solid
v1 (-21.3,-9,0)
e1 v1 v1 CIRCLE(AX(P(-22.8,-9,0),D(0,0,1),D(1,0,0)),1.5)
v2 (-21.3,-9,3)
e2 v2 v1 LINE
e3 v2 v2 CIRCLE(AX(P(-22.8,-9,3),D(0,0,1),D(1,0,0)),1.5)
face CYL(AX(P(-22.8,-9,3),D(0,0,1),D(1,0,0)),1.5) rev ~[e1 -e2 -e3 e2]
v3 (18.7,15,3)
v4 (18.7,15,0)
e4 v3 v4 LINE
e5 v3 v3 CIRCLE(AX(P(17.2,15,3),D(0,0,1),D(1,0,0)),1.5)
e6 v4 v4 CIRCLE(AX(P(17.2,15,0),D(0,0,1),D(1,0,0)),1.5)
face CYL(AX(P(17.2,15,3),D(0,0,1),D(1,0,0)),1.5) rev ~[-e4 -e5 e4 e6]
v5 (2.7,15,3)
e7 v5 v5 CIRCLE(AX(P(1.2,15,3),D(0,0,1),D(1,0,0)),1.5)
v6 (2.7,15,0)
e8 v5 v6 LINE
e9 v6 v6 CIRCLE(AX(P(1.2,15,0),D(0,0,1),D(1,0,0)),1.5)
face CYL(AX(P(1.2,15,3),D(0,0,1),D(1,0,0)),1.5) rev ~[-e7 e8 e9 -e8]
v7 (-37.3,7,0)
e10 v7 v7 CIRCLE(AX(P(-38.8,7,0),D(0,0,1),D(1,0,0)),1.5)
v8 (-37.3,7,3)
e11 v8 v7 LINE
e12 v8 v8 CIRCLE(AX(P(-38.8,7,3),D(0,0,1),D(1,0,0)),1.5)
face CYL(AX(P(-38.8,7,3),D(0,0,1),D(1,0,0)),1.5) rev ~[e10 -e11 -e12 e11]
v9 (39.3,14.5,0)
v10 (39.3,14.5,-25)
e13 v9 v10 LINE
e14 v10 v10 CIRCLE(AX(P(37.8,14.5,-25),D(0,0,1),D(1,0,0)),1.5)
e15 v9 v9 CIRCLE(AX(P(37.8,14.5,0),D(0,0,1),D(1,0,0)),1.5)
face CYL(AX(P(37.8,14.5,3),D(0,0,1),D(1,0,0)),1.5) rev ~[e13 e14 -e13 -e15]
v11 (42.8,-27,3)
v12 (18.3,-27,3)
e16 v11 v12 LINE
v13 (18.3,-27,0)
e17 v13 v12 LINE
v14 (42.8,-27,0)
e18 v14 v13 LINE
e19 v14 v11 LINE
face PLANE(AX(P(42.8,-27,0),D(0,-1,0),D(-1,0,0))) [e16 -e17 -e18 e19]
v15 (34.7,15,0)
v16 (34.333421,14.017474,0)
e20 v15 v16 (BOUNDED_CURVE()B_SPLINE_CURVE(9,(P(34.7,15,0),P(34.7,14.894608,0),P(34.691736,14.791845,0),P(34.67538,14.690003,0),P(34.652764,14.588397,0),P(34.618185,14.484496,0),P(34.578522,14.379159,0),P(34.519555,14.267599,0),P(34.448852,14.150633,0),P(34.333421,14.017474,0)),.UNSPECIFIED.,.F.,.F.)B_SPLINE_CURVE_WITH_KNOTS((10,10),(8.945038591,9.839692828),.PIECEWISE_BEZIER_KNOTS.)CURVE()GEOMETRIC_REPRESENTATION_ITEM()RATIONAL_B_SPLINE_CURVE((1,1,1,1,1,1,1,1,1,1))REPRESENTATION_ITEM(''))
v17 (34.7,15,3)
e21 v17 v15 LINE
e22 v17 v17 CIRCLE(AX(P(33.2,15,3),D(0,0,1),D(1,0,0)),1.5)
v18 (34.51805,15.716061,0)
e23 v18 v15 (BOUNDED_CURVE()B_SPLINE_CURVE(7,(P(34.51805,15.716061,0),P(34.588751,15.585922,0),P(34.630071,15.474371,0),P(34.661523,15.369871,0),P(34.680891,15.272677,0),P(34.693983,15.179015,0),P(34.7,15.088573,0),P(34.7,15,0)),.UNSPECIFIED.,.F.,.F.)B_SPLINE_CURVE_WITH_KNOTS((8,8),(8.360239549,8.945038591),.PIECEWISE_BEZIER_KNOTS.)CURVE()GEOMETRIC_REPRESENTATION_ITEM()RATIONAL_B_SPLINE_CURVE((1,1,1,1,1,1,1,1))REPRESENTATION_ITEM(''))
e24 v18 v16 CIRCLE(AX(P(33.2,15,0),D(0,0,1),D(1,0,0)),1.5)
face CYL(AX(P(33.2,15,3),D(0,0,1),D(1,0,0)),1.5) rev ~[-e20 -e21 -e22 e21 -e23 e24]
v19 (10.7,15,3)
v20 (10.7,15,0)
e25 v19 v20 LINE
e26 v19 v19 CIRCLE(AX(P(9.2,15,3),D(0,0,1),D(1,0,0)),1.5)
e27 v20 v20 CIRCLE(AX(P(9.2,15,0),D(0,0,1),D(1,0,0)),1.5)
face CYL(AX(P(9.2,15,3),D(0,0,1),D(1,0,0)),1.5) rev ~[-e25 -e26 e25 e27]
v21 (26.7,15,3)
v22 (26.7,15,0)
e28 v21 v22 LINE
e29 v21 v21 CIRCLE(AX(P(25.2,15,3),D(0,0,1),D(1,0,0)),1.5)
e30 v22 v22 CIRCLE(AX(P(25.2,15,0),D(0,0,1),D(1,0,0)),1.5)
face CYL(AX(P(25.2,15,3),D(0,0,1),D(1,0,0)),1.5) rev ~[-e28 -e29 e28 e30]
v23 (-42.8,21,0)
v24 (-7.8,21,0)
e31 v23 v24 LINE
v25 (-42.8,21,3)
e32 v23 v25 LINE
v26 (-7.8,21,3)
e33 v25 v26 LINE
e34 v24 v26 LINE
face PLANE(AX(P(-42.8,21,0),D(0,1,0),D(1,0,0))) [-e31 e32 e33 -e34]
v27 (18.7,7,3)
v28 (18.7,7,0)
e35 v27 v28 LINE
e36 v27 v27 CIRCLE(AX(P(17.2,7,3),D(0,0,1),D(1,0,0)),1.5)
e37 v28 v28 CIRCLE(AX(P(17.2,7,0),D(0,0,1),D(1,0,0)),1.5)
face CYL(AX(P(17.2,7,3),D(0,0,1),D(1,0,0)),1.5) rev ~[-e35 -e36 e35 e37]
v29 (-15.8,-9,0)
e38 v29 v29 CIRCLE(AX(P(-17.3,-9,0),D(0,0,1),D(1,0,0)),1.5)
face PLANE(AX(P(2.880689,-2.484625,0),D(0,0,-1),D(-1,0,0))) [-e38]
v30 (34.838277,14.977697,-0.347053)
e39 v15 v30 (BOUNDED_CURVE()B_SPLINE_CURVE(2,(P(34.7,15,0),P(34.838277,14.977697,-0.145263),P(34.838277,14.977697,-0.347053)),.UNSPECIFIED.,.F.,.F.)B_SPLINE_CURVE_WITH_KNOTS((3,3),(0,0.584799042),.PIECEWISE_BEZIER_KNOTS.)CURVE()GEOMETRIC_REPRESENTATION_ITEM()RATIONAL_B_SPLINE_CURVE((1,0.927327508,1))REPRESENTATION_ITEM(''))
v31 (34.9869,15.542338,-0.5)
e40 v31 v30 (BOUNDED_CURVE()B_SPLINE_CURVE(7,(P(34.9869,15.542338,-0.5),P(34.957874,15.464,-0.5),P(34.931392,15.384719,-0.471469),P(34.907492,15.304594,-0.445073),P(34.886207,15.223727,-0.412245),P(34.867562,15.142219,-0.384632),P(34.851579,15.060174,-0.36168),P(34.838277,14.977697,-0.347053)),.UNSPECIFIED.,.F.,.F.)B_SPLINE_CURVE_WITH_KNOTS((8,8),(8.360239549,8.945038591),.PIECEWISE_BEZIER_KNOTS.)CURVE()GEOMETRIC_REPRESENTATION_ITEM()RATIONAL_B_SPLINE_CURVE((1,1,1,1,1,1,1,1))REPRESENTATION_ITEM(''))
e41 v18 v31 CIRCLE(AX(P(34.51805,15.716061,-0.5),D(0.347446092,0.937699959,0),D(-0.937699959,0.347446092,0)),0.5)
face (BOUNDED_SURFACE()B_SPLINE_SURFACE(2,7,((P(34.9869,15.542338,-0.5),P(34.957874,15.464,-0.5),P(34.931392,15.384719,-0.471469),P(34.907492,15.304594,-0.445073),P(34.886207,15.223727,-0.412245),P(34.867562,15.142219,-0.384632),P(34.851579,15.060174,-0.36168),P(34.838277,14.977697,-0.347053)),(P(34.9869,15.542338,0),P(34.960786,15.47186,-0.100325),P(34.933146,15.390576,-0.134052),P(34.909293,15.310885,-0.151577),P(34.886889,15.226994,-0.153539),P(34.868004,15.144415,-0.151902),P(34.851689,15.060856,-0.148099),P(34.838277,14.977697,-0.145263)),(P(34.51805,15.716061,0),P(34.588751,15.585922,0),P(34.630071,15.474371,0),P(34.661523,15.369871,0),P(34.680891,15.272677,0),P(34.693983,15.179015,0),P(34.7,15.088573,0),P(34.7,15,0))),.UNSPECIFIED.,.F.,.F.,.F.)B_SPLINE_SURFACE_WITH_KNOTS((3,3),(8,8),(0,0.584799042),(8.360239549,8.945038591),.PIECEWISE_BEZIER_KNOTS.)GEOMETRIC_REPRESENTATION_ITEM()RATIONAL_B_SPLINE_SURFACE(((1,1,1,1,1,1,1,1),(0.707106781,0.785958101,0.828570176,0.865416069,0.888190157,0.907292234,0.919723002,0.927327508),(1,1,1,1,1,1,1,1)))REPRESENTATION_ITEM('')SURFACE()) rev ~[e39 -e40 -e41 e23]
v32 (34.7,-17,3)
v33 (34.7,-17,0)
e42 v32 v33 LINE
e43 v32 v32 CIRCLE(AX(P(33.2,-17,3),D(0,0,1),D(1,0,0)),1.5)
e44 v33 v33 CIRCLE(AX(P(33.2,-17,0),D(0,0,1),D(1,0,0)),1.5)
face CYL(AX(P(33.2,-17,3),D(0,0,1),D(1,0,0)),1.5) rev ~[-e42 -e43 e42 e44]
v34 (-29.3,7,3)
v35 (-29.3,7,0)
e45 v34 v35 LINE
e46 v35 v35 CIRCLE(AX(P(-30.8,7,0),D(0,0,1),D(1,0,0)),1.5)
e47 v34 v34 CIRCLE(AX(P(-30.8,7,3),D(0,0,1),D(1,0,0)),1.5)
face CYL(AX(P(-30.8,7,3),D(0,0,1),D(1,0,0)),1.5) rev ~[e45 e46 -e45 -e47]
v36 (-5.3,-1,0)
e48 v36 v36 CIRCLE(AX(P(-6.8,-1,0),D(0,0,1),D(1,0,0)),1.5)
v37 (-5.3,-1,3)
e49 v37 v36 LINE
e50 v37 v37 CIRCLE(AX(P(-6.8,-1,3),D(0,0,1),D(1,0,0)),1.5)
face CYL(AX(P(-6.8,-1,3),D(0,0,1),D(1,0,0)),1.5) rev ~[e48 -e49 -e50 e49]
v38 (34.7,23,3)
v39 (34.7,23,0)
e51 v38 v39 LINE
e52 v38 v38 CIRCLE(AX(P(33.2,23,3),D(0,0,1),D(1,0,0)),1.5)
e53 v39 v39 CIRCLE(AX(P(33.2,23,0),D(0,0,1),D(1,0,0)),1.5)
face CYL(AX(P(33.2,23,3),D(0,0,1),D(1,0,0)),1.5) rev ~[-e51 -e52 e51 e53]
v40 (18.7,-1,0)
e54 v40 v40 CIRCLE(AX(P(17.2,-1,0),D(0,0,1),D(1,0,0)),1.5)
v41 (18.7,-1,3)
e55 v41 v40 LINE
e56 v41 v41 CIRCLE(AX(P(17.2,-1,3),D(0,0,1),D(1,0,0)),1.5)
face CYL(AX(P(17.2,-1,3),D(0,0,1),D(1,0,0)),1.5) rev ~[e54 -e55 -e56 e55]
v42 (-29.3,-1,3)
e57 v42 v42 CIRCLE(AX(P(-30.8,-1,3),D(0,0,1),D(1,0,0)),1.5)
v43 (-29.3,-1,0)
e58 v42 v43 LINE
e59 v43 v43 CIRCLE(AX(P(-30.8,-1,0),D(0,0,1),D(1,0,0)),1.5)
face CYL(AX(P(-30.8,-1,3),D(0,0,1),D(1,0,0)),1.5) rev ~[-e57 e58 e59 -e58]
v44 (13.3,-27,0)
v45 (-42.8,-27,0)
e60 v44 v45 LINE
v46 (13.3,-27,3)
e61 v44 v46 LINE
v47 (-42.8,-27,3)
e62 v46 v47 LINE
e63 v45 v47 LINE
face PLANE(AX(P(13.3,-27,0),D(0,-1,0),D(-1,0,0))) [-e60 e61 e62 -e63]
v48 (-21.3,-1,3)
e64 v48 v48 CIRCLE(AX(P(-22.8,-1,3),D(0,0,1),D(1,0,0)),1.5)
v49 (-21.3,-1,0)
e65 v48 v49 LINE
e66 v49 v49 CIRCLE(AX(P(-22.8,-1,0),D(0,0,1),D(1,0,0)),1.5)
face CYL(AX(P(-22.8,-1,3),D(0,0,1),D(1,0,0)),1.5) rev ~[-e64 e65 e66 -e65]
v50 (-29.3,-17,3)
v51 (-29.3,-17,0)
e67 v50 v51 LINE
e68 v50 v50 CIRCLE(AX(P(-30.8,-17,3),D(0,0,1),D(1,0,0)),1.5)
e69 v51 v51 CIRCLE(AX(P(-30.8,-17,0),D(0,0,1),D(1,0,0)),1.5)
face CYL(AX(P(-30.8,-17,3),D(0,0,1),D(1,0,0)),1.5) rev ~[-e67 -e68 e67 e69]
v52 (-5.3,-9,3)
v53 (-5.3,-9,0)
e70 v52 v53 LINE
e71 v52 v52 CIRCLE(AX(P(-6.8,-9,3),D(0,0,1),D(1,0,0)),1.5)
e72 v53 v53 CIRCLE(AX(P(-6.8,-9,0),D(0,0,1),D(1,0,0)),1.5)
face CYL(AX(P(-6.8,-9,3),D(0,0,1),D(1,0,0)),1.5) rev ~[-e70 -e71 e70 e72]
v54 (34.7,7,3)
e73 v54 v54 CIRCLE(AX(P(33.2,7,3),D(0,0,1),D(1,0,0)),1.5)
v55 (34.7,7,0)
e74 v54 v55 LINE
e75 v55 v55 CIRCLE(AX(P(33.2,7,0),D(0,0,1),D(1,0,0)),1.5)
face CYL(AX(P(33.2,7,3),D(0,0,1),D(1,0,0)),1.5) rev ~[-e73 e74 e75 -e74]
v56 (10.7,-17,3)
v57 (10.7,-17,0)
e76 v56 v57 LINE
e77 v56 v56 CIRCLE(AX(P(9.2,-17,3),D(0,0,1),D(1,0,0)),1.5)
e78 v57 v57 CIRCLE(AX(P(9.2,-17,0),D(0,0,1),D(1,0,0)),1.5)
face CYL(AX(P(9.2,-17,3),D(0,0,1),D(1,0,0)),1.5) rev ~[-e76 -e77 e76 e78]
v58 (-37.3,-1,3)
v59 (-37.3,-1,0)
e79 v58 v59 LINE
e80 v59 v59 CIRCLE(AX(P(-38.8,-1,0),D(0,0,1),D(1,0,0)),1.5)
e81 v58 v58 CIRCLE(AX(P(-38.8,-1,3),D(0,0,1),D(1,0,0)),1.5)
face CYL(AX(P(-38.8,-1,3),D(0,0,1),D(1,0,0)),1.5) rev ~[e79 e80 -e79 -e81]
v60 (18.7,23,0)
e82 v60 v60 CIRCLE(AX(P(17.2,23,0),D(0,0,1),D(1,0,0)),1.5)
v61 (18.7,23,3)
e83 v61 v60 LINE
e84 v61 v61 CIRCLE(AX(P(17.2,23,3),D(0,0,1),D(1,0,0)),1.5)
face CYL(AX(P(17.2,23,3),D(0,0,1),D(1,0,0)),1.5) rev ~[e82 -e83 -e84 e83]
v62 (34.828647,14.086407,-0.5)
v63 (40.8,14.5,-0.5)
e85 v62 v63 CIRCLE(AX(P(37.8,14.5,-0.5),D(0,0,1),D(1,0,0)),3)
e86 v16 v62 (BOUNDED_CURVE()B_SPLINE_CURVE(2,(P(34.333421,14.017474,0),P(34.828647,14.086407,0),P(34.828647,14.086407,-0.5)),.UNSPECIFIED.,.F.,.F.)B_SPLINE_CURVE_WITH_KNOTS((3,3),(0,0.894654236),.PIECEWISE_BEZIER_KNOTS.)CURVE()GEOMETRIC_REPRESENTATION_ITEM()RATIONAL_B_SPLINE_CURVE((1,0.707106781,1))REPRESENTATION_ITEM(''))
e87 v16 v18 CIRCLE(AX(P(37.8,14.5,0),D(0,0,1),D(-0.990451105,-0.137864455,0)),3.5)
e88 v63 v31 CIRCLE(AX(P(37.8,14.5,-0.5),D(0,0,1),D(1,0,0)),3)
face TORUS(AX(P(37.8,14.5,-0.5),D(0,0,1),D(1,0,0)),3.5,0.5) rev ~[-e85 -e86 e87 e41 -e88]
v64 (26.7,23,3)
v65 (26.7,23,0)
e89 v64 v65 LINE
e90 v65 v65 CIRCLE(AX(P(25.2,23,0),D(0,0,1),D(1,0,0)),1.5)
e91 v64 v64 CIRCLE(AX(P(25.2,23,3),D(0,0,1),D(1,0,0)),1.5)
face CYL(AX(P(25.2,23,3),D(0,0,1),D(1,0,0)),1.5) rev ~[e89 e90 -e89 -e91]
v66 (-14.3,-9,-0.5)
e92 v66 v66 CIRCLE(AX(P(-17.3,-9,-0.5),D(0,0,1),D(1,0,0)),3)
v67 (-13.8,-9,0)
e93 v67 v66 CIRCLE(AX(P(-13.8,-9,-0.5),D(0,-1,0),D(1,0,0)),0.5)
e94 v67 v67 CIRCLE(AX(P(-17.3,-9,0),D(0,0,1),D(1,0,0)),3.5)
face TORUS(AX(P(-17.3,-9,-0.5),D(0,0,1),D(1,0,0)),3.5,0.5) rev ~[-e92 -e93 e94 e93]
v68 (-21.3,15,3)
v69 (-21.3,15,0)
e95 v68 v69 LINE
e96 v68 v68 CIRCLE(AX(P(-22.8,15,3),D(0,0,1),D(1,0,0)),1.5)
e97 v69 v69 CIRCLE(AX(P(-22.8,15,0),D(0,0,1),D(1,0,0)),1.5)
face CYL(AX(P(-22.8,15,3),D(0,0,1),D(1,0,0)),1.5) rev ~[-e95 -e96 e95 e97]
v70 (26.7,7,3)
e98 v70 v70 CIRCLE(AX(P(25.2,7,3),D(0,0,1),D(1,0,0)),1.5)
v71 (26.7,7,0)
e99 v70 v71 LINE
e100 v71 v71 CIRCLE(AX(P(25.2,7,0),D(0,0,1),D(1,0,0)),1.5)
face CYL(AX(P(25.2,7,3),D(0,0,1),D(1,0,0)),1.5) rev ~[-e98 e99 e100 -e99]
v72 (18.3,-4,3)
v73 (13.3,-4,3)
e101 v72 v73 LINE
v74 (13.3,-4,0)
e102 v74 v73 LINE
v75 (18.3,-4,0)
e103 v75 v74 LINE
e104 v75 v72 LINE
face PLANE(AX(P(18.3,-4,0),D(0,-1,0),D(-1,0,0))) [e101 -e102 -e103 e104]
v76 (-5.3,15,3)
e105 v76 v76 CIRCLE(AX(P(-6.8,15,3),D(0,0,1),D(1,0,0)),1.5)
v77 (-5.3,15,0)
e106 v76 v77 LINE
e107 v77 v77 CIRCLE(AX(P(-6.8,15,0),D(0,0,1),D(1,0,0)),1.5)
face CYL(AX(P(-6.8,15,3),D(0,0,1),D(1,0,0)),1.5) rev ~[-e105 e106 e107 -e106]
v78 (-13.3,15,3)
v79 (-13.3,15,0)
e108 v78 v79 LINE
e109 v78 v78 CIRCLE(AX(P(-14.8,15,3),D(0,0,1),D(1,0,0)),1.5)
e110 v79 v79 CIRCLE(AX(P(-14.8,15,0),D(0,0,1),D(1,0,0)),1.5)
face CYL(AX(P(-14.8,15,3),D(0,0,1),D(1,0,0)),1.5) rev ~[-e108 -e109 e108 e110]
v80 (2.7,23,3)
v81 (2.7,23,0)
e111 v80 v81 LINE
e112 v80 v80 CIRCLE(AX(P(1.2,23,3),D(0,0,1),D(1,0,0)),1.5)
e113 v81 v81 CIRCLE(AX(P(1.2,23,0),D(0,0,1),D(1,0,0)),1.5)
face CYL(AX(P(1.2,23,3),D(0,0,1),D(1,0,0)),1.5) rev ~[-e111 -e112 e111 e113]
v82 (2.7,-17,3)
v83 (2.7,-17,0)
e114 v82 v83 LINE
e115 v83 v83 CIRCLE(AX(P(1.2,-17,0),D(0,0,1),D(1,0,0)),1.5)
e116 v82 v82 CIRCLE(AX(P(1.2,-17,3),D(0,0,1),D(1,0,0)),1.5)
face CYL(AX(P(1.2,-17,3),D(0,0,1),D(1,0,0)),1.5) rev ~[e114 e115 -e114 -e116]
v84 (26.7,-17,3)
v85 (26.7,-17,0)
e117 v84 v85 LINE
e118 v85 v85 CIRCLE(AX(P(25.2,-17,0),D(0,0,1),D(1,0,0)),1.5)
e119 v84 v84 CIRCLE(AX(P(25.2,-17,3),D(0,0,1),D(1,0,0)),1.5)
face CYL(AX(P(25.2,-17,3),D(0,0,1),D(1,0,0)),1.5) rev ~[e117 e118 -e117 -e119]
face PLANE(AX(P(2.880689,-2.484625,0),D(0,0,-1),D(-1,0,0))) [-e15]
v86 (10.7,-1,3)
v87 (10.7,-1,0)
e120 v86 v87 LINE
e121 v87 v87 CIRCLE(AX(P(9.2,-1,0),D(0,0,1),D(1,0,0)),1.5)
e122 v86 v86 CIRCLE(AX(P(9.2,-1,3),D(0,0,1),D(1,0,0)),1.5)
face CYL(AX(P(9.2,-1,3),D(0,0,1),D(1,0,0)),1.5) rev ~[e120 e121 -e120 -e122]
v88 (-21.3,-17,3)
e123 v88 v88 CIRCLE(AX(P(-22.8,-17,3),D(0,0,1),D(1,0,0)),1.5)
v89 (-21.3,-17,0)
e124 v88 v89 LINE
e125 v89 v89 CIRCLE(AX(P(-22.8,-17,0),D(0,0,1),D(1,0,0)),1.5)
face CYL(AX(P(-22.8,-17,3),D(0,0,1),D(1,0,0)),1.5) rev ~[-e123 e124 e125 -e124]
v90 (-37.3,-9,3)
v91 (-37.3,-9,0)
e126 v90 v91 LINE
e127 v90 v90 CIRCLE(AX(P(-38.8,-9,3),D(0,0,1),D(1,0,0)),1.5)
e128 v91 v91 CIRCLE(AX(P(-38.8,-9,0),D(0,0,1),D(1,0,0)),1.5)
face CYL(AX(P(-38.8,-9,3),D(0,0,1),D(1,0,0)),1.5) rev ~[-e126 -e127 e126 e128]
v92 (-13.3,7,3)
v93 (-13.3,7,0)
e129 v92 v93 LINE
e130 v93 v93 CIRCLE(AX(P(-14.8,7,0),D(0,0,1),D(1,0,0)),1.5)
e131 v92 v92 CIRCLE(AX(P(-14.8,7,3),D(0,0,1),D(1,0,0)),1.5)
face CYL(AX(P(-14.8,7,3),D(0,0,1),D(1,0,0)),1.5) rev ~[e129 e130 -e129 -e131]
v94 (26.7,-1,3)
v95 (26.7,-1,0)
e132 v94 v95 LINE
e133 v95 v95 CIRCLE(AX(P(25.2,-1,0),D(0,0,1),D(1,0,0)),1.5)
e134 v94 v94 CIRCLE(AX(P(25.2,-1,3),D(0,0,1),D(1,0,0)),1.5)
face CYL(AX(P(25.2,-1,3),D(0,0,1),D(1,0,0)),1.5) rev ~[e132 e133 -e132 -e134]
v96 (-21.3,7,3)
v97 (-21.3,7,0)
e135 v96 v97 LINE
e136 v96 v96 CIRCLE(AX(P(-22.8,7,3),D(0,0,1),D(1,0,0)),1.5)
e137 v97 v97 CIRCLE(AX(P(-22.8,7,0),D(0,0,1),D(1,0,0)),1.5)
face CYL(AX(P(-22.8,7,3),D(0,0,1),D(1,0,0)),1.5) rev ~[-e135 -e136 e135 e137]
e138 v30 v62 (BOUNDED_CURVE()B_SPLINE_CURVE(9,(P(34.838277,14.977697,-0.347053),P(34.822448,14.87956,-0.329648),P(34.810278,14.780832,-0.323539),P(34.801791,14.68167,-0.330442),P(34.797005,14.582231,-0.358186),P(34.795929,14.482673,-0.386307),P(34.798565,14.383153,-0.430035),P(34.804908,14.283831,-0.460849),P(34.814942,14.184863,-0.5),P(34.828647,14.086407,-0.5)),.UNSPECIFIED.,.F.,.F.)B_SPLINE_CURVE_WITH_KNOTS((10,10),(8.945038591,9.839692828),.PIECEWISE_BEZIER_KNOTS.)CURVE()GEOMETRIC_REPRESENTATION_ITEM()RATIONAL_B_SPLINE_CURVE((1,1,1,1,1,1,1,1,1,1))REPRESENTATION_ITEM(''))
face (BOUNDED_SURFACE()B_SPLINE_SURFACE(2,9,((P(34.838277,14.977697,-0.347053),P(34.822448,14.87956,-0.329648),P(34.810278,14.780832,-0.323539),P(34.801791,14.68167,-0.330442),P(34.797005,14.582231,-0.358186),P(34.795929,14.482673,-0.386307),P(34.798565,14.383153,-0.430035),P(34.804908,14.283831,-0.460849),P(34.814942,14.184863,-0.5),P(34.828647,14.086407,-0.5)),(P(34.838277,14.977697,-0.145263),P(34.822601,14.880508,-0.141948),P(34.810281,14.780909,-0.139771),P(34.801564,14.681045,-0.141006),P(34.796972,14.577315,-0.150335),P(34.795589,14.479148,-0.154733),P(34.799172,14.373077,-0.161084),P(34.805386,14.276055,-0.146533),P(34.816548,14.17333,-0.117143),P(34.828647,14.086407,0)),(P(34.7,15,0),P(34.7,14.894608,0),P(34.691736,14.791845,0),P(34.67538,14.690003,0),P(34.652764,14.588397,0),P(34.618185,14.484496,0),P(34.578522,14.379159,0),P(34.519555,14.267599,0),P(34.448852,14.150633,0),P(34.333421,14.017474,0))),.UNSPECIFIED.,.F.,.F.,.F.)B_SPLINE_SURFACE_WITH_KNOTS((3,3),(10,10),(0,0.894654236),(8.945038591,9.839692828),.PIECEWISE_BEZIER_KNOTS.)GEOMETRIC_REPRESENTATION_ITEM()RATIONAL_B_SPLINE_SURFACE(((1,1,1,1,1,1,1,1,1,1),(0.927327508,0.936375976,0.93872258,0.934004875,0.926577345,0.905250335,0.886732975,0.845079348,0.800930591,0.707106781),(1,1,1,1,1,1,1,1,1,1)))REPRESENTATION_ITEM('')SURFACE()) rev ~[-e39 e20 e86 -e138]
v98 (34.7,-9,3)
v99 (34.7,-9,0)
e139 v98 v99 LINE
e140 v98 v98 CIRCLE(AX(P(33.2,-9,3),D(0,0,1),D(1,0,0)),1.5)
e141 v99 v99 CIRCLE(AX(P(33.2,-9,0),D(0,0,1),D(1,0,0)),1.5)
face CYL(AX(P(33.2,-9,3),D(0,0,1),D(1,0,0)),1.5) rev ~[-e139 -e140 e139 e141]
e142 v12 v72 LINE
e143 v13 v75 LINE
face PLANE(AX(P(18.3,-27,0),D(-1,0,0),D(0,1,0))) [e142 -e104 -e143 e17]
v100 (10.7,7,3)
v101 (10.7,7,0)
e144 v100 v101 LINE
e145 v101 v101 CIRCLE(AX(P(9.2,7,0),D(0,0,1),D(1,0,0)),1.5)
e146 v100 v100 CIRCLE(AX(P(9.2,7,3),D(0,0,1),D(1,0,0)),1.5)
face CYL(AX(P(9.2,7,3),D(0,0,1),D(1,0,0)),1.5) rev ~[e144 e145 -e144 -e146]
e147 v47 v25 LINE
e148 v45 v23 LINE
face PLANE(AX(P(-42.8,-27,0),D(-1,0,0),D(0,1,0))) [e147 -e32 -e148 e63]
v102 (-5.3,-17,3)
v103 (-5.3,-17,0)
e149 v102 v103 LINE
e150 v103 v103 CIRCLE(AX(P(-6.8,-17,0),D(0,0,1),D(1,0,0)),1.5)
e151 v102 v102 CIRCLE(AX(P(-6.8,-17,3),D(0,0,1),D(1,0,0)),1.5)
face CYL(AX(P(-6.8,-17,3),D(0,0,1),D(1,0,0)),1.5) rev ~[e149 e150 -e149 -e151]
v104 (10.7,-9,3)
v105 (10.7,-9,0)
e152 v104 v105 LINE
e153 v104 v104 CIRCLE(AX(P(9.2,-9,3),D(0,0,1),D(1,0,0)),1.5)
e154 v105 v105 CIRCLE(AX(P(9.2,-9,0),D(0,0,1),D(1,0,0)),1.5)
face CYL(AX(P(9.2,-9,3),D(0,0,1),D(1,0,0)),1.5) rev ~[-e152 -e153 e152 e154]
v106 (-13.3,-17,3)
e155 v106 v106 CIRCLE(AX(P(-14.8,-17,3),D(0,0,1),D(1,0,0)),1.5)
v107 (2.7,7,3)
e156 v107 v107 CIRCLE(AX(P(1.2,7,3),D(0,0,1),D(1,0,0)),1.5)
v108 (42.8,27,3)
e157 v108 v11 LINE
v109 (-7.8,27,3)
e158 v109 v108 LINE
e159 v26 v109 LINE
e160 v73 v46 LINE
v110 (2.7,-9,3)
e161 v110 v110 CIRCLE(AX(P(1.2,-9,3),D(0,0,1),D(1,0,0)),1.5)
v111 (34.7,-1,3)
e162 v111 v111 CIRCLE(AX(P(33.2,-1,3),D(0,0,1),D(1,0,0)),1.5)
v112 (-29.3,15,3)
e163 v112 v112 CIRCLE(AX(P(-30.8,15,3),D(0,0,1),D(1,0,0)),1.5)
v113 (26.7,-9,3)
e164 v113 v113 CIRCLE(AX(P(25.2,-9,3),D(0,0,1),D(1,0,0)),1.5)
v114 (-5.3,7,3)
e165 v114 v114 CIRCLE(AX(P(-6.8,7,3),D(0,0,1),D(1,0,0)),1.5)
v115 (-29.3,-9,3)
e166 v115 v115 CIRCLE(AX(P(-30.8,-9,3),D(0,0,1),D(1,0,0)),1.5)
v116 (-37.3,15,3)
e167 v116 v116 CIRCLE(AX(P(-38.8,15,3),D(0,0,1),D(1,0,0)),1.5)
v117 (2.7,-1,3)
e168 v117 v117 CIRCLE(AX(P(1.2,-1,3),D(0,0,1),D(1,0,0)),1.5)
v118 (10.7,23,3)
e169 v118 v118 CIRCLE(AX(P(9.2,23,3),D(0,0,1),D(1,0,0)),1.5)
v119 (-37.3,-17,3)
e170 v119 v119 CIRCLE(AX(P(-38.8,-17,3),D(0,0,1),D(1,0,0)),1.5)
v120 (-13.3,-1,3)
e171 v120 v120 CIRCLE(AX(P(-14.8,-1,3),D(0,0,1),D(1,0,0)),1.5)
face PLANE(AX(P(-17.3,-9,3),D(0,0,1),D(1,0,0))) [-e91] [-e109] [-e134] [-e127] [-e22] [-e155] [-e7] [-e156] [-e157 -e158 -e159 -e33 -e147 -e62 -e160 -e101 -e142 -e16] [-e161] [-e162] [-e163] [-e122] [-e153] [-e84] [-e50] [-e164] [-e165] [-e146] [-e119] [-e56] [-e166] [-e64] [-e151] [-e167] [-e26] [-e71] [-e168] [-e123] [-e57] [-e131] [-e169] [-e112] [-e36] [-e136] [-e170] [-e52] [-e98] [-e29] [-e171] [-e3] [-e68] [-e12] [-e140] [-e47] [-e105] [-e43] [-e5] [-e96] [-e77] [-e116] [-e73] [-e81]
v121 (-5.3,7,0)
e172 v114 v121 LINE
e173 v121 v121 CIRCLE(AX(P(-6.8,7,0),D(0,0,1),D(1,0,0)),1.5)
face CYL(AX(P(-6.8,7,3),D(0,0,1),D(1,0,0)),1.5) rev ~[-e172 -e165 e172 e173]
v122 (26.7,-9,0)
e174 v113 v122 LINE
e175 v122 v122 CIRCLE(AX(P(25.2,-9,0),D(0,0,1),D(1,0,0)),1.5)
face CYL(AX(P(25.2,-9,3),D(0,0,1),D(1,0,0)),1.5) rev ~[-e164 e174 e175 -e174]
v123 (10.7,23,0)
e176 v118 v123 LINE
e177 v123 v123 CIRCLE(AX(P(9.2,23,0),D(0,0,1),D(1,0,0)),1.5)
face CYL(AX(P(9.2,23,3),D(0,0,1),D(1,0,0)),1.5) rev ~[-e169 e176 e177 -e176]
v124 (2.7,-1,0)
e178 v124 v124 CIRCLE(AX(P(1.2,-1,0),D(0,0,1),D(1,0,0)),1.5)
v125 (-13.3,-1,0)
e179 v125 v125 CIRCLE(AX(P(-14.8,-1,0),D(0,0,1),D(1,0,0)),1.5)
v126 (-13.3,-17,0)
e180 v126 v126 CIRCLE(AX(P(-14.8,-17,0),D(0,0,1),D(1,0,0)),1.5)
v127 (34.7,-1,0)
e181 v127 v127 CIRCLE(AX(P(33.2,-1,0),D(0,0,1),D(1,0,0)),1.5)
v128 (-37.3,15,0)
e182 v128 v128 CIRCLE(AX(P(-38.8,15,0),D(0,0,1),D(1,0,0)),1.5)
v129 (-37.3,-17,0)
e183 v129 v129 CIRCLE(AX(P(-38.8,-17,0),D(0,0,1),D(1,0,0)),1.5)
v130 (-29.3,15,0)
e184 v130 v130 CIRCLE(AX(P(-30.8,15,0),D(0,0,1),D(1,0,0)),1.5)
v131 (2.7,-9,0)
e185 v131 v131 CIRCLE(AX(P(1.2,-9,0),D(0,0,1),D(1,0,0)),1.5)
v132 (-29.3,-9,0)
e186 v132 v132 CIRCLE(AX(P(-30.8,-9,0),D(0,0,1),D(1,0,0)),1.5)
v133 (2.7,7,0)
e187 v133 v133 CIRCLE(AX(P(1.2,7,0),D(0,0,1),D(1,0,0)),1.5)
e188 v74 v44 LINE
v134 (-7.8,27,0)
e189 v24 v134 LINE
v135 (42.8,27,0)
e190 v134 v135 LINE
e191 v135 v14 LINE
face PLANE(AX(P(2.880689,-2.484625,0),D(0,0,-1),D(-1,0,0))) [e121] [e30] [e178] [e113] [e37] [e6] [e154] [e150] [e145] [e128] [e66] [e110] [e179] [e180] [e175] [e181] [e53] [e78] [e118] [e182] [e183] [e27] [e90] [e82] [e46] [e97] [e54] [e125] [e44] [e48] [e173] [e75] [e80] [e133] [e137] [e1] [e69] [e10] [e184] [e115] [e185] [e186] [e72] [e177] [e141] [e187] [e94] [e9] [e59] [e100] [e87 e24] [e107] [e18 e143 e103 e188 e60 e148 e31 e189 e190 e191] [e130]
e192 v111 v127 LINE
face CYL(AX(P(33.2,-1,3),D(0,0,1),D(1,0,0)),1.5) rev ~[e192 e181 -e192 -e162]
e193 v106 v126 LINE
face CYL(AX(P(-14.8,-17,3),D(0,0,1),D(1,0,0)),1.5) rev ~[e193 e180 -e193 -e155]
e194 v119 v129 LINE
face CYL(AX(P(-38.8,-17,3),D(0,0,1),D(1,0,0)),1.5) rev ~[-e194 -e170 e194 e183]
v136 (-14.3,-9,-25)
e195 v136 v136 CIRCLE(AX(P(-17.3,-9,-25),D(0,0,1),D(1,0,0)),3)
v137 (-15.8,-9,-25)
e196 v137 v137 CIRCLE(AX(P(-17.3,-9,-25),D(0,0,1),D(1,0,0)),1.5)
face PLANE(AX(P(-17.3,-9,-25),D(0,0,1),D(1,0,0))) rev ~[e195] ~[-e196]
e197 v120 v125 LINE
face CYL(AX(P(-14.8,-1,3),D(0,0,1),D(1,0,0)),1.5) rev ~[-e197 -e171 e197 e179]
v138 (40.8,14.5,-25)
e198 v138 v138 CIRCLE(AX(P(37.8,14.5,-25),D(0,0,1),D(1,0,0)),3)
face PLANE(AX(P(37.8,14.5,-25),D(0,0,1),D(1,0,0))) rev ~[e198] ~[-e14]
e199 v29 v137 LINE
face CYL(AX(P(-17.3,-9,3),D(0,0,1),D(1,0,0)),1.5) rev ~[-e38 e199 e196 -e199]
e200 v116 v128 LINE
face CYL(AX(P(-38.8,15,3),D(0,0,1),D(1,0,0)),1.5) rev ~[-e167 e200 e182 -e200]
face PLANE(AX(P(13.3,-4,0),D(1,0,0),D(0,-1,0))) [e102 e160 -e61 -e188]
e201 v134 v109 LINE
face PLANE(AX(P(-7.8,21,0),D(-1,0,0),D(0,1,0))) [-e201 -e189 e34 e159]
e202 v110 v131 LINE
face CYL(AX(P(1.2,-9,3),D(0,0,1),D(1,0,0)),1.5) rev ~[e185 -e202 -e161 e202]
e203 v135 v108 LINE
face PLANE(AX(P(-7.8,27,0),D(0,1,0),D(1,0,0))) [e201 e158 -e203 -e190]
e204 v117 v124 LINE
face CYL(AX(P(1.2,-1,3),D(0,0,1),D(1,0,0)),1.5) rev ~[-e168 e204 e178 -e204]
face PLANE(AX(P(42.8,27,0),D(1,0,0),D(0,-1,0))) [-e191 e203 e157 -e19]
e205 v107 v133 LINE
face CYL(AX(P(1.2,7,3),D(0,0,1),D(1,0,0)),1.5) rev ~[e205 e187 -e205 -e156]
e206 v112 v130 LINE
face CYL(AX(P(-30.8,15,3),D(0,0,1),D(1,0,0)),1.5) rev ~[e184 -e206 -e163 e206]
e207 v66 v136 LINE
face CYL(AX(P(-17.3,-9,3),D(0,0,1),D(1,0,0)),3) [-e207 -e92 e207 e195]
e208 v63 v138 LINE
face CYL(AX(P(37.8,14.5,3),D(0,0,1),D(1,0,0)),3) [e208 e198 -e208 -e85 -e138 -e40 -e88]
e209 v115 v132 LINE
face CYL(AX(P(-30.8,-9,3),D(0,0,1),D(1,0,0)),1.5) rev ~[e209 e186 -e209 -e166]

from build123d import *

# Parameters (mm, degrees)
PAD_DEPTH     = 3
SKETCH002_R   = 1.5
POCKET_DEPTH  = 3.001
SKETCH001_R   = 3
SKETCH001_R_2 = 1.5
PAD001_DEPTH  = 28
FILLET_R      = 0.5


with BuildPart() as part:
    # Sketch → Pad (new body)
    with BuildSketch(Plane.XY):
        Polygon((-7.8, 27), (42.8, 27), (42.8, -27), (18.3, -27), (18.3, -4), (13.3, -4), (13.3, -27), (-42.8, -27), (-42.8, 21), (-7.8, 21), align=None)
    extrude(amount=PAD_DEPTH)

    # Sketch002 → Pocket (cut, through all)
    with BuildSketch(Plane.XY.offset(3)):
        with Locations((1.2, 23)):
            Circle(SKETCH002_R)
        with Locations((9.2, 23)):
            Circle(SKETCH002_R)
        with Locations((17.2, 23)):
            Circle(SKETCH002_R)
        with Locations((25.2, 23)):
            Circle(SKETCH002_R)
        with Locations((33.2, 23)):
            Circle(SKETCH002_R)
        with Locations((-38.8, 15)):
            Circle(SKETCH002_R)
        with Locations((-30.8, 15)):
            Circle(SKETCH002_R)
        with Locations((-22.8, 15)):
            Circle(SKETCH002_R)
        with Locations((-14.8, 15)):
            Circle(SKETCH002_R)
        with Locations((-6.8, 15)):
            Circle(SKETCH002_R)
        with Locations((1.2, 15)):
            Circle(SKETCH002_R)
        with Locations((9.2, 15)):
            Circle(SKETCH002_R)
        with Locations((17.2, 15)):
            Circle(SKETCH002_R)
        with Locations((25.2, 15)):
            Circle(SKETCH002_R)
        with Locations((33.2, 15)):
            Circle(SKETCH002_R)
        with Locations((-38.8, 7)):
            Circle(SKETCH002_R)
        with Locations((-30.8, 7)):
            Circle(SKETCH002_R)
        with Locations((-22.8, 7)):
            Circle(SKETCH002_R)
        with Locations((-14.8, 7)):
            Circle(SKETCH002_R)
        with Locations((-6.8, 7)):
            Circle(SKETCH002_R)
        with Locations((1.2, 7)):
            Circle(SKETCH002_R)
        with Locations((9.2, 7)):
            Circle(SKETCH002_R)
        with Locations((17.2, 7)):
            Circle(SKETCH002_R)
        with Locations((25.2, 7)):
            Circle(SKETCH002_R)
        with Locations((33.2, 7)):
            Circle(SKETCH002_R)
        with Locations((-38.8, -1)):
            Circle(SKETCH002_R)
        with Locations((-30.8, -1)):
            Circle(SKETCH002_R)
        with Locations((-22.8, -1)):
            Circle(SKETCH002_R)
        with Locations((-14.8, -1)):
            Circle(SKETCH002_R)
        with Locations((-6.8, -1)):
            Circle(SKETCH002_R)
        with Locations((1.2, -1)):
            Circle(SKETCH002_R)
        with Locations((9.2, -1)):
            Circle(SKETCH002_R)
        with Locations((17.2, -1)):
            Circle(SKETCH002_R)
        with Locations((25.2, -1)):
            Circle(SKETCH002_R)
        with Locations((33.2, -1)):
            Circle(SKETCH002_R)
        with Locations((-38.8, -9)):
            Circle(SKETCH002_R)
        with Locations((-30.8, -9)):
            Circle(SKETCH002_R)
        with Locations((-22.8, -9)):
            Circle(SKETCH002_R)
        with Locations((-6.8, -9)):
            Circle(SKETCH002_R)
        with Locations((1.2, -9)):
            Circle(SKETCH002_R)
        with Locations((9.2, -9)):
            Circle(SKETCH002_R)
        with Locations((25.2, -9)):
            Circle(SKETCH002_R)
        with Locations((33.2, -9)):
            Circle(SKETCH002_R)
        with Locations((-38.8, -17)):
            Circle(SKETCH002_R)
        with Locations((-30.8, -17)):
            Circle(SKETCH002_R)
        with Locations((-22.8, -17)):
            Circle(SKETCH002_R)
        with Locations((-14.8, -17)):
            Circle(SKETCH002_R)
        with Locations((-6.8, -17)):
            Circle(SKETCH002_R)
        with Locations((1.2, -17)):
            Circle(SKETCH002_R)
        with Locations((9.2, -17)):
            Circle(SKETCH002_R)
        with Locations((25.2, -17)):
            Circle(SKETCH002_R)
        with Locations((33.2, -17)):
            Circle(SKETCH002_R)
    extrude(amount=-POCKET_DEPTH, mode=Mode.SUBTRACT)

    # Sketch001 → Pad001 (new body)
    with BuildSketch(Plane.XY.offset(3)):
        with Locations((-17.3, -9)):
            Circle(SKETCH001_R)
        with Locations((-17.3, -9)):
            Circle(SKETCH001_R_2, mode=Mode.SUBTRACT)
        with Locations((37.8, 14.5)):
            Circle(SKETCH001_R)
        with Locations((37.8, 14.5)):
            Circle(SKETCH001_R_2, mode=Mode.SUBTRACT)
    extrude(amount=-PAD001_DEPTH)

    # Fillet
    fillet_edges = [part.edges().sort_by_distance(p)[0] for p in [
        (34.8, 14.5, 0),
        (-20.3, -9, 0),
    ]]
    fillet(fillet_edges, radius=FILLET_R)


solid = part.part
